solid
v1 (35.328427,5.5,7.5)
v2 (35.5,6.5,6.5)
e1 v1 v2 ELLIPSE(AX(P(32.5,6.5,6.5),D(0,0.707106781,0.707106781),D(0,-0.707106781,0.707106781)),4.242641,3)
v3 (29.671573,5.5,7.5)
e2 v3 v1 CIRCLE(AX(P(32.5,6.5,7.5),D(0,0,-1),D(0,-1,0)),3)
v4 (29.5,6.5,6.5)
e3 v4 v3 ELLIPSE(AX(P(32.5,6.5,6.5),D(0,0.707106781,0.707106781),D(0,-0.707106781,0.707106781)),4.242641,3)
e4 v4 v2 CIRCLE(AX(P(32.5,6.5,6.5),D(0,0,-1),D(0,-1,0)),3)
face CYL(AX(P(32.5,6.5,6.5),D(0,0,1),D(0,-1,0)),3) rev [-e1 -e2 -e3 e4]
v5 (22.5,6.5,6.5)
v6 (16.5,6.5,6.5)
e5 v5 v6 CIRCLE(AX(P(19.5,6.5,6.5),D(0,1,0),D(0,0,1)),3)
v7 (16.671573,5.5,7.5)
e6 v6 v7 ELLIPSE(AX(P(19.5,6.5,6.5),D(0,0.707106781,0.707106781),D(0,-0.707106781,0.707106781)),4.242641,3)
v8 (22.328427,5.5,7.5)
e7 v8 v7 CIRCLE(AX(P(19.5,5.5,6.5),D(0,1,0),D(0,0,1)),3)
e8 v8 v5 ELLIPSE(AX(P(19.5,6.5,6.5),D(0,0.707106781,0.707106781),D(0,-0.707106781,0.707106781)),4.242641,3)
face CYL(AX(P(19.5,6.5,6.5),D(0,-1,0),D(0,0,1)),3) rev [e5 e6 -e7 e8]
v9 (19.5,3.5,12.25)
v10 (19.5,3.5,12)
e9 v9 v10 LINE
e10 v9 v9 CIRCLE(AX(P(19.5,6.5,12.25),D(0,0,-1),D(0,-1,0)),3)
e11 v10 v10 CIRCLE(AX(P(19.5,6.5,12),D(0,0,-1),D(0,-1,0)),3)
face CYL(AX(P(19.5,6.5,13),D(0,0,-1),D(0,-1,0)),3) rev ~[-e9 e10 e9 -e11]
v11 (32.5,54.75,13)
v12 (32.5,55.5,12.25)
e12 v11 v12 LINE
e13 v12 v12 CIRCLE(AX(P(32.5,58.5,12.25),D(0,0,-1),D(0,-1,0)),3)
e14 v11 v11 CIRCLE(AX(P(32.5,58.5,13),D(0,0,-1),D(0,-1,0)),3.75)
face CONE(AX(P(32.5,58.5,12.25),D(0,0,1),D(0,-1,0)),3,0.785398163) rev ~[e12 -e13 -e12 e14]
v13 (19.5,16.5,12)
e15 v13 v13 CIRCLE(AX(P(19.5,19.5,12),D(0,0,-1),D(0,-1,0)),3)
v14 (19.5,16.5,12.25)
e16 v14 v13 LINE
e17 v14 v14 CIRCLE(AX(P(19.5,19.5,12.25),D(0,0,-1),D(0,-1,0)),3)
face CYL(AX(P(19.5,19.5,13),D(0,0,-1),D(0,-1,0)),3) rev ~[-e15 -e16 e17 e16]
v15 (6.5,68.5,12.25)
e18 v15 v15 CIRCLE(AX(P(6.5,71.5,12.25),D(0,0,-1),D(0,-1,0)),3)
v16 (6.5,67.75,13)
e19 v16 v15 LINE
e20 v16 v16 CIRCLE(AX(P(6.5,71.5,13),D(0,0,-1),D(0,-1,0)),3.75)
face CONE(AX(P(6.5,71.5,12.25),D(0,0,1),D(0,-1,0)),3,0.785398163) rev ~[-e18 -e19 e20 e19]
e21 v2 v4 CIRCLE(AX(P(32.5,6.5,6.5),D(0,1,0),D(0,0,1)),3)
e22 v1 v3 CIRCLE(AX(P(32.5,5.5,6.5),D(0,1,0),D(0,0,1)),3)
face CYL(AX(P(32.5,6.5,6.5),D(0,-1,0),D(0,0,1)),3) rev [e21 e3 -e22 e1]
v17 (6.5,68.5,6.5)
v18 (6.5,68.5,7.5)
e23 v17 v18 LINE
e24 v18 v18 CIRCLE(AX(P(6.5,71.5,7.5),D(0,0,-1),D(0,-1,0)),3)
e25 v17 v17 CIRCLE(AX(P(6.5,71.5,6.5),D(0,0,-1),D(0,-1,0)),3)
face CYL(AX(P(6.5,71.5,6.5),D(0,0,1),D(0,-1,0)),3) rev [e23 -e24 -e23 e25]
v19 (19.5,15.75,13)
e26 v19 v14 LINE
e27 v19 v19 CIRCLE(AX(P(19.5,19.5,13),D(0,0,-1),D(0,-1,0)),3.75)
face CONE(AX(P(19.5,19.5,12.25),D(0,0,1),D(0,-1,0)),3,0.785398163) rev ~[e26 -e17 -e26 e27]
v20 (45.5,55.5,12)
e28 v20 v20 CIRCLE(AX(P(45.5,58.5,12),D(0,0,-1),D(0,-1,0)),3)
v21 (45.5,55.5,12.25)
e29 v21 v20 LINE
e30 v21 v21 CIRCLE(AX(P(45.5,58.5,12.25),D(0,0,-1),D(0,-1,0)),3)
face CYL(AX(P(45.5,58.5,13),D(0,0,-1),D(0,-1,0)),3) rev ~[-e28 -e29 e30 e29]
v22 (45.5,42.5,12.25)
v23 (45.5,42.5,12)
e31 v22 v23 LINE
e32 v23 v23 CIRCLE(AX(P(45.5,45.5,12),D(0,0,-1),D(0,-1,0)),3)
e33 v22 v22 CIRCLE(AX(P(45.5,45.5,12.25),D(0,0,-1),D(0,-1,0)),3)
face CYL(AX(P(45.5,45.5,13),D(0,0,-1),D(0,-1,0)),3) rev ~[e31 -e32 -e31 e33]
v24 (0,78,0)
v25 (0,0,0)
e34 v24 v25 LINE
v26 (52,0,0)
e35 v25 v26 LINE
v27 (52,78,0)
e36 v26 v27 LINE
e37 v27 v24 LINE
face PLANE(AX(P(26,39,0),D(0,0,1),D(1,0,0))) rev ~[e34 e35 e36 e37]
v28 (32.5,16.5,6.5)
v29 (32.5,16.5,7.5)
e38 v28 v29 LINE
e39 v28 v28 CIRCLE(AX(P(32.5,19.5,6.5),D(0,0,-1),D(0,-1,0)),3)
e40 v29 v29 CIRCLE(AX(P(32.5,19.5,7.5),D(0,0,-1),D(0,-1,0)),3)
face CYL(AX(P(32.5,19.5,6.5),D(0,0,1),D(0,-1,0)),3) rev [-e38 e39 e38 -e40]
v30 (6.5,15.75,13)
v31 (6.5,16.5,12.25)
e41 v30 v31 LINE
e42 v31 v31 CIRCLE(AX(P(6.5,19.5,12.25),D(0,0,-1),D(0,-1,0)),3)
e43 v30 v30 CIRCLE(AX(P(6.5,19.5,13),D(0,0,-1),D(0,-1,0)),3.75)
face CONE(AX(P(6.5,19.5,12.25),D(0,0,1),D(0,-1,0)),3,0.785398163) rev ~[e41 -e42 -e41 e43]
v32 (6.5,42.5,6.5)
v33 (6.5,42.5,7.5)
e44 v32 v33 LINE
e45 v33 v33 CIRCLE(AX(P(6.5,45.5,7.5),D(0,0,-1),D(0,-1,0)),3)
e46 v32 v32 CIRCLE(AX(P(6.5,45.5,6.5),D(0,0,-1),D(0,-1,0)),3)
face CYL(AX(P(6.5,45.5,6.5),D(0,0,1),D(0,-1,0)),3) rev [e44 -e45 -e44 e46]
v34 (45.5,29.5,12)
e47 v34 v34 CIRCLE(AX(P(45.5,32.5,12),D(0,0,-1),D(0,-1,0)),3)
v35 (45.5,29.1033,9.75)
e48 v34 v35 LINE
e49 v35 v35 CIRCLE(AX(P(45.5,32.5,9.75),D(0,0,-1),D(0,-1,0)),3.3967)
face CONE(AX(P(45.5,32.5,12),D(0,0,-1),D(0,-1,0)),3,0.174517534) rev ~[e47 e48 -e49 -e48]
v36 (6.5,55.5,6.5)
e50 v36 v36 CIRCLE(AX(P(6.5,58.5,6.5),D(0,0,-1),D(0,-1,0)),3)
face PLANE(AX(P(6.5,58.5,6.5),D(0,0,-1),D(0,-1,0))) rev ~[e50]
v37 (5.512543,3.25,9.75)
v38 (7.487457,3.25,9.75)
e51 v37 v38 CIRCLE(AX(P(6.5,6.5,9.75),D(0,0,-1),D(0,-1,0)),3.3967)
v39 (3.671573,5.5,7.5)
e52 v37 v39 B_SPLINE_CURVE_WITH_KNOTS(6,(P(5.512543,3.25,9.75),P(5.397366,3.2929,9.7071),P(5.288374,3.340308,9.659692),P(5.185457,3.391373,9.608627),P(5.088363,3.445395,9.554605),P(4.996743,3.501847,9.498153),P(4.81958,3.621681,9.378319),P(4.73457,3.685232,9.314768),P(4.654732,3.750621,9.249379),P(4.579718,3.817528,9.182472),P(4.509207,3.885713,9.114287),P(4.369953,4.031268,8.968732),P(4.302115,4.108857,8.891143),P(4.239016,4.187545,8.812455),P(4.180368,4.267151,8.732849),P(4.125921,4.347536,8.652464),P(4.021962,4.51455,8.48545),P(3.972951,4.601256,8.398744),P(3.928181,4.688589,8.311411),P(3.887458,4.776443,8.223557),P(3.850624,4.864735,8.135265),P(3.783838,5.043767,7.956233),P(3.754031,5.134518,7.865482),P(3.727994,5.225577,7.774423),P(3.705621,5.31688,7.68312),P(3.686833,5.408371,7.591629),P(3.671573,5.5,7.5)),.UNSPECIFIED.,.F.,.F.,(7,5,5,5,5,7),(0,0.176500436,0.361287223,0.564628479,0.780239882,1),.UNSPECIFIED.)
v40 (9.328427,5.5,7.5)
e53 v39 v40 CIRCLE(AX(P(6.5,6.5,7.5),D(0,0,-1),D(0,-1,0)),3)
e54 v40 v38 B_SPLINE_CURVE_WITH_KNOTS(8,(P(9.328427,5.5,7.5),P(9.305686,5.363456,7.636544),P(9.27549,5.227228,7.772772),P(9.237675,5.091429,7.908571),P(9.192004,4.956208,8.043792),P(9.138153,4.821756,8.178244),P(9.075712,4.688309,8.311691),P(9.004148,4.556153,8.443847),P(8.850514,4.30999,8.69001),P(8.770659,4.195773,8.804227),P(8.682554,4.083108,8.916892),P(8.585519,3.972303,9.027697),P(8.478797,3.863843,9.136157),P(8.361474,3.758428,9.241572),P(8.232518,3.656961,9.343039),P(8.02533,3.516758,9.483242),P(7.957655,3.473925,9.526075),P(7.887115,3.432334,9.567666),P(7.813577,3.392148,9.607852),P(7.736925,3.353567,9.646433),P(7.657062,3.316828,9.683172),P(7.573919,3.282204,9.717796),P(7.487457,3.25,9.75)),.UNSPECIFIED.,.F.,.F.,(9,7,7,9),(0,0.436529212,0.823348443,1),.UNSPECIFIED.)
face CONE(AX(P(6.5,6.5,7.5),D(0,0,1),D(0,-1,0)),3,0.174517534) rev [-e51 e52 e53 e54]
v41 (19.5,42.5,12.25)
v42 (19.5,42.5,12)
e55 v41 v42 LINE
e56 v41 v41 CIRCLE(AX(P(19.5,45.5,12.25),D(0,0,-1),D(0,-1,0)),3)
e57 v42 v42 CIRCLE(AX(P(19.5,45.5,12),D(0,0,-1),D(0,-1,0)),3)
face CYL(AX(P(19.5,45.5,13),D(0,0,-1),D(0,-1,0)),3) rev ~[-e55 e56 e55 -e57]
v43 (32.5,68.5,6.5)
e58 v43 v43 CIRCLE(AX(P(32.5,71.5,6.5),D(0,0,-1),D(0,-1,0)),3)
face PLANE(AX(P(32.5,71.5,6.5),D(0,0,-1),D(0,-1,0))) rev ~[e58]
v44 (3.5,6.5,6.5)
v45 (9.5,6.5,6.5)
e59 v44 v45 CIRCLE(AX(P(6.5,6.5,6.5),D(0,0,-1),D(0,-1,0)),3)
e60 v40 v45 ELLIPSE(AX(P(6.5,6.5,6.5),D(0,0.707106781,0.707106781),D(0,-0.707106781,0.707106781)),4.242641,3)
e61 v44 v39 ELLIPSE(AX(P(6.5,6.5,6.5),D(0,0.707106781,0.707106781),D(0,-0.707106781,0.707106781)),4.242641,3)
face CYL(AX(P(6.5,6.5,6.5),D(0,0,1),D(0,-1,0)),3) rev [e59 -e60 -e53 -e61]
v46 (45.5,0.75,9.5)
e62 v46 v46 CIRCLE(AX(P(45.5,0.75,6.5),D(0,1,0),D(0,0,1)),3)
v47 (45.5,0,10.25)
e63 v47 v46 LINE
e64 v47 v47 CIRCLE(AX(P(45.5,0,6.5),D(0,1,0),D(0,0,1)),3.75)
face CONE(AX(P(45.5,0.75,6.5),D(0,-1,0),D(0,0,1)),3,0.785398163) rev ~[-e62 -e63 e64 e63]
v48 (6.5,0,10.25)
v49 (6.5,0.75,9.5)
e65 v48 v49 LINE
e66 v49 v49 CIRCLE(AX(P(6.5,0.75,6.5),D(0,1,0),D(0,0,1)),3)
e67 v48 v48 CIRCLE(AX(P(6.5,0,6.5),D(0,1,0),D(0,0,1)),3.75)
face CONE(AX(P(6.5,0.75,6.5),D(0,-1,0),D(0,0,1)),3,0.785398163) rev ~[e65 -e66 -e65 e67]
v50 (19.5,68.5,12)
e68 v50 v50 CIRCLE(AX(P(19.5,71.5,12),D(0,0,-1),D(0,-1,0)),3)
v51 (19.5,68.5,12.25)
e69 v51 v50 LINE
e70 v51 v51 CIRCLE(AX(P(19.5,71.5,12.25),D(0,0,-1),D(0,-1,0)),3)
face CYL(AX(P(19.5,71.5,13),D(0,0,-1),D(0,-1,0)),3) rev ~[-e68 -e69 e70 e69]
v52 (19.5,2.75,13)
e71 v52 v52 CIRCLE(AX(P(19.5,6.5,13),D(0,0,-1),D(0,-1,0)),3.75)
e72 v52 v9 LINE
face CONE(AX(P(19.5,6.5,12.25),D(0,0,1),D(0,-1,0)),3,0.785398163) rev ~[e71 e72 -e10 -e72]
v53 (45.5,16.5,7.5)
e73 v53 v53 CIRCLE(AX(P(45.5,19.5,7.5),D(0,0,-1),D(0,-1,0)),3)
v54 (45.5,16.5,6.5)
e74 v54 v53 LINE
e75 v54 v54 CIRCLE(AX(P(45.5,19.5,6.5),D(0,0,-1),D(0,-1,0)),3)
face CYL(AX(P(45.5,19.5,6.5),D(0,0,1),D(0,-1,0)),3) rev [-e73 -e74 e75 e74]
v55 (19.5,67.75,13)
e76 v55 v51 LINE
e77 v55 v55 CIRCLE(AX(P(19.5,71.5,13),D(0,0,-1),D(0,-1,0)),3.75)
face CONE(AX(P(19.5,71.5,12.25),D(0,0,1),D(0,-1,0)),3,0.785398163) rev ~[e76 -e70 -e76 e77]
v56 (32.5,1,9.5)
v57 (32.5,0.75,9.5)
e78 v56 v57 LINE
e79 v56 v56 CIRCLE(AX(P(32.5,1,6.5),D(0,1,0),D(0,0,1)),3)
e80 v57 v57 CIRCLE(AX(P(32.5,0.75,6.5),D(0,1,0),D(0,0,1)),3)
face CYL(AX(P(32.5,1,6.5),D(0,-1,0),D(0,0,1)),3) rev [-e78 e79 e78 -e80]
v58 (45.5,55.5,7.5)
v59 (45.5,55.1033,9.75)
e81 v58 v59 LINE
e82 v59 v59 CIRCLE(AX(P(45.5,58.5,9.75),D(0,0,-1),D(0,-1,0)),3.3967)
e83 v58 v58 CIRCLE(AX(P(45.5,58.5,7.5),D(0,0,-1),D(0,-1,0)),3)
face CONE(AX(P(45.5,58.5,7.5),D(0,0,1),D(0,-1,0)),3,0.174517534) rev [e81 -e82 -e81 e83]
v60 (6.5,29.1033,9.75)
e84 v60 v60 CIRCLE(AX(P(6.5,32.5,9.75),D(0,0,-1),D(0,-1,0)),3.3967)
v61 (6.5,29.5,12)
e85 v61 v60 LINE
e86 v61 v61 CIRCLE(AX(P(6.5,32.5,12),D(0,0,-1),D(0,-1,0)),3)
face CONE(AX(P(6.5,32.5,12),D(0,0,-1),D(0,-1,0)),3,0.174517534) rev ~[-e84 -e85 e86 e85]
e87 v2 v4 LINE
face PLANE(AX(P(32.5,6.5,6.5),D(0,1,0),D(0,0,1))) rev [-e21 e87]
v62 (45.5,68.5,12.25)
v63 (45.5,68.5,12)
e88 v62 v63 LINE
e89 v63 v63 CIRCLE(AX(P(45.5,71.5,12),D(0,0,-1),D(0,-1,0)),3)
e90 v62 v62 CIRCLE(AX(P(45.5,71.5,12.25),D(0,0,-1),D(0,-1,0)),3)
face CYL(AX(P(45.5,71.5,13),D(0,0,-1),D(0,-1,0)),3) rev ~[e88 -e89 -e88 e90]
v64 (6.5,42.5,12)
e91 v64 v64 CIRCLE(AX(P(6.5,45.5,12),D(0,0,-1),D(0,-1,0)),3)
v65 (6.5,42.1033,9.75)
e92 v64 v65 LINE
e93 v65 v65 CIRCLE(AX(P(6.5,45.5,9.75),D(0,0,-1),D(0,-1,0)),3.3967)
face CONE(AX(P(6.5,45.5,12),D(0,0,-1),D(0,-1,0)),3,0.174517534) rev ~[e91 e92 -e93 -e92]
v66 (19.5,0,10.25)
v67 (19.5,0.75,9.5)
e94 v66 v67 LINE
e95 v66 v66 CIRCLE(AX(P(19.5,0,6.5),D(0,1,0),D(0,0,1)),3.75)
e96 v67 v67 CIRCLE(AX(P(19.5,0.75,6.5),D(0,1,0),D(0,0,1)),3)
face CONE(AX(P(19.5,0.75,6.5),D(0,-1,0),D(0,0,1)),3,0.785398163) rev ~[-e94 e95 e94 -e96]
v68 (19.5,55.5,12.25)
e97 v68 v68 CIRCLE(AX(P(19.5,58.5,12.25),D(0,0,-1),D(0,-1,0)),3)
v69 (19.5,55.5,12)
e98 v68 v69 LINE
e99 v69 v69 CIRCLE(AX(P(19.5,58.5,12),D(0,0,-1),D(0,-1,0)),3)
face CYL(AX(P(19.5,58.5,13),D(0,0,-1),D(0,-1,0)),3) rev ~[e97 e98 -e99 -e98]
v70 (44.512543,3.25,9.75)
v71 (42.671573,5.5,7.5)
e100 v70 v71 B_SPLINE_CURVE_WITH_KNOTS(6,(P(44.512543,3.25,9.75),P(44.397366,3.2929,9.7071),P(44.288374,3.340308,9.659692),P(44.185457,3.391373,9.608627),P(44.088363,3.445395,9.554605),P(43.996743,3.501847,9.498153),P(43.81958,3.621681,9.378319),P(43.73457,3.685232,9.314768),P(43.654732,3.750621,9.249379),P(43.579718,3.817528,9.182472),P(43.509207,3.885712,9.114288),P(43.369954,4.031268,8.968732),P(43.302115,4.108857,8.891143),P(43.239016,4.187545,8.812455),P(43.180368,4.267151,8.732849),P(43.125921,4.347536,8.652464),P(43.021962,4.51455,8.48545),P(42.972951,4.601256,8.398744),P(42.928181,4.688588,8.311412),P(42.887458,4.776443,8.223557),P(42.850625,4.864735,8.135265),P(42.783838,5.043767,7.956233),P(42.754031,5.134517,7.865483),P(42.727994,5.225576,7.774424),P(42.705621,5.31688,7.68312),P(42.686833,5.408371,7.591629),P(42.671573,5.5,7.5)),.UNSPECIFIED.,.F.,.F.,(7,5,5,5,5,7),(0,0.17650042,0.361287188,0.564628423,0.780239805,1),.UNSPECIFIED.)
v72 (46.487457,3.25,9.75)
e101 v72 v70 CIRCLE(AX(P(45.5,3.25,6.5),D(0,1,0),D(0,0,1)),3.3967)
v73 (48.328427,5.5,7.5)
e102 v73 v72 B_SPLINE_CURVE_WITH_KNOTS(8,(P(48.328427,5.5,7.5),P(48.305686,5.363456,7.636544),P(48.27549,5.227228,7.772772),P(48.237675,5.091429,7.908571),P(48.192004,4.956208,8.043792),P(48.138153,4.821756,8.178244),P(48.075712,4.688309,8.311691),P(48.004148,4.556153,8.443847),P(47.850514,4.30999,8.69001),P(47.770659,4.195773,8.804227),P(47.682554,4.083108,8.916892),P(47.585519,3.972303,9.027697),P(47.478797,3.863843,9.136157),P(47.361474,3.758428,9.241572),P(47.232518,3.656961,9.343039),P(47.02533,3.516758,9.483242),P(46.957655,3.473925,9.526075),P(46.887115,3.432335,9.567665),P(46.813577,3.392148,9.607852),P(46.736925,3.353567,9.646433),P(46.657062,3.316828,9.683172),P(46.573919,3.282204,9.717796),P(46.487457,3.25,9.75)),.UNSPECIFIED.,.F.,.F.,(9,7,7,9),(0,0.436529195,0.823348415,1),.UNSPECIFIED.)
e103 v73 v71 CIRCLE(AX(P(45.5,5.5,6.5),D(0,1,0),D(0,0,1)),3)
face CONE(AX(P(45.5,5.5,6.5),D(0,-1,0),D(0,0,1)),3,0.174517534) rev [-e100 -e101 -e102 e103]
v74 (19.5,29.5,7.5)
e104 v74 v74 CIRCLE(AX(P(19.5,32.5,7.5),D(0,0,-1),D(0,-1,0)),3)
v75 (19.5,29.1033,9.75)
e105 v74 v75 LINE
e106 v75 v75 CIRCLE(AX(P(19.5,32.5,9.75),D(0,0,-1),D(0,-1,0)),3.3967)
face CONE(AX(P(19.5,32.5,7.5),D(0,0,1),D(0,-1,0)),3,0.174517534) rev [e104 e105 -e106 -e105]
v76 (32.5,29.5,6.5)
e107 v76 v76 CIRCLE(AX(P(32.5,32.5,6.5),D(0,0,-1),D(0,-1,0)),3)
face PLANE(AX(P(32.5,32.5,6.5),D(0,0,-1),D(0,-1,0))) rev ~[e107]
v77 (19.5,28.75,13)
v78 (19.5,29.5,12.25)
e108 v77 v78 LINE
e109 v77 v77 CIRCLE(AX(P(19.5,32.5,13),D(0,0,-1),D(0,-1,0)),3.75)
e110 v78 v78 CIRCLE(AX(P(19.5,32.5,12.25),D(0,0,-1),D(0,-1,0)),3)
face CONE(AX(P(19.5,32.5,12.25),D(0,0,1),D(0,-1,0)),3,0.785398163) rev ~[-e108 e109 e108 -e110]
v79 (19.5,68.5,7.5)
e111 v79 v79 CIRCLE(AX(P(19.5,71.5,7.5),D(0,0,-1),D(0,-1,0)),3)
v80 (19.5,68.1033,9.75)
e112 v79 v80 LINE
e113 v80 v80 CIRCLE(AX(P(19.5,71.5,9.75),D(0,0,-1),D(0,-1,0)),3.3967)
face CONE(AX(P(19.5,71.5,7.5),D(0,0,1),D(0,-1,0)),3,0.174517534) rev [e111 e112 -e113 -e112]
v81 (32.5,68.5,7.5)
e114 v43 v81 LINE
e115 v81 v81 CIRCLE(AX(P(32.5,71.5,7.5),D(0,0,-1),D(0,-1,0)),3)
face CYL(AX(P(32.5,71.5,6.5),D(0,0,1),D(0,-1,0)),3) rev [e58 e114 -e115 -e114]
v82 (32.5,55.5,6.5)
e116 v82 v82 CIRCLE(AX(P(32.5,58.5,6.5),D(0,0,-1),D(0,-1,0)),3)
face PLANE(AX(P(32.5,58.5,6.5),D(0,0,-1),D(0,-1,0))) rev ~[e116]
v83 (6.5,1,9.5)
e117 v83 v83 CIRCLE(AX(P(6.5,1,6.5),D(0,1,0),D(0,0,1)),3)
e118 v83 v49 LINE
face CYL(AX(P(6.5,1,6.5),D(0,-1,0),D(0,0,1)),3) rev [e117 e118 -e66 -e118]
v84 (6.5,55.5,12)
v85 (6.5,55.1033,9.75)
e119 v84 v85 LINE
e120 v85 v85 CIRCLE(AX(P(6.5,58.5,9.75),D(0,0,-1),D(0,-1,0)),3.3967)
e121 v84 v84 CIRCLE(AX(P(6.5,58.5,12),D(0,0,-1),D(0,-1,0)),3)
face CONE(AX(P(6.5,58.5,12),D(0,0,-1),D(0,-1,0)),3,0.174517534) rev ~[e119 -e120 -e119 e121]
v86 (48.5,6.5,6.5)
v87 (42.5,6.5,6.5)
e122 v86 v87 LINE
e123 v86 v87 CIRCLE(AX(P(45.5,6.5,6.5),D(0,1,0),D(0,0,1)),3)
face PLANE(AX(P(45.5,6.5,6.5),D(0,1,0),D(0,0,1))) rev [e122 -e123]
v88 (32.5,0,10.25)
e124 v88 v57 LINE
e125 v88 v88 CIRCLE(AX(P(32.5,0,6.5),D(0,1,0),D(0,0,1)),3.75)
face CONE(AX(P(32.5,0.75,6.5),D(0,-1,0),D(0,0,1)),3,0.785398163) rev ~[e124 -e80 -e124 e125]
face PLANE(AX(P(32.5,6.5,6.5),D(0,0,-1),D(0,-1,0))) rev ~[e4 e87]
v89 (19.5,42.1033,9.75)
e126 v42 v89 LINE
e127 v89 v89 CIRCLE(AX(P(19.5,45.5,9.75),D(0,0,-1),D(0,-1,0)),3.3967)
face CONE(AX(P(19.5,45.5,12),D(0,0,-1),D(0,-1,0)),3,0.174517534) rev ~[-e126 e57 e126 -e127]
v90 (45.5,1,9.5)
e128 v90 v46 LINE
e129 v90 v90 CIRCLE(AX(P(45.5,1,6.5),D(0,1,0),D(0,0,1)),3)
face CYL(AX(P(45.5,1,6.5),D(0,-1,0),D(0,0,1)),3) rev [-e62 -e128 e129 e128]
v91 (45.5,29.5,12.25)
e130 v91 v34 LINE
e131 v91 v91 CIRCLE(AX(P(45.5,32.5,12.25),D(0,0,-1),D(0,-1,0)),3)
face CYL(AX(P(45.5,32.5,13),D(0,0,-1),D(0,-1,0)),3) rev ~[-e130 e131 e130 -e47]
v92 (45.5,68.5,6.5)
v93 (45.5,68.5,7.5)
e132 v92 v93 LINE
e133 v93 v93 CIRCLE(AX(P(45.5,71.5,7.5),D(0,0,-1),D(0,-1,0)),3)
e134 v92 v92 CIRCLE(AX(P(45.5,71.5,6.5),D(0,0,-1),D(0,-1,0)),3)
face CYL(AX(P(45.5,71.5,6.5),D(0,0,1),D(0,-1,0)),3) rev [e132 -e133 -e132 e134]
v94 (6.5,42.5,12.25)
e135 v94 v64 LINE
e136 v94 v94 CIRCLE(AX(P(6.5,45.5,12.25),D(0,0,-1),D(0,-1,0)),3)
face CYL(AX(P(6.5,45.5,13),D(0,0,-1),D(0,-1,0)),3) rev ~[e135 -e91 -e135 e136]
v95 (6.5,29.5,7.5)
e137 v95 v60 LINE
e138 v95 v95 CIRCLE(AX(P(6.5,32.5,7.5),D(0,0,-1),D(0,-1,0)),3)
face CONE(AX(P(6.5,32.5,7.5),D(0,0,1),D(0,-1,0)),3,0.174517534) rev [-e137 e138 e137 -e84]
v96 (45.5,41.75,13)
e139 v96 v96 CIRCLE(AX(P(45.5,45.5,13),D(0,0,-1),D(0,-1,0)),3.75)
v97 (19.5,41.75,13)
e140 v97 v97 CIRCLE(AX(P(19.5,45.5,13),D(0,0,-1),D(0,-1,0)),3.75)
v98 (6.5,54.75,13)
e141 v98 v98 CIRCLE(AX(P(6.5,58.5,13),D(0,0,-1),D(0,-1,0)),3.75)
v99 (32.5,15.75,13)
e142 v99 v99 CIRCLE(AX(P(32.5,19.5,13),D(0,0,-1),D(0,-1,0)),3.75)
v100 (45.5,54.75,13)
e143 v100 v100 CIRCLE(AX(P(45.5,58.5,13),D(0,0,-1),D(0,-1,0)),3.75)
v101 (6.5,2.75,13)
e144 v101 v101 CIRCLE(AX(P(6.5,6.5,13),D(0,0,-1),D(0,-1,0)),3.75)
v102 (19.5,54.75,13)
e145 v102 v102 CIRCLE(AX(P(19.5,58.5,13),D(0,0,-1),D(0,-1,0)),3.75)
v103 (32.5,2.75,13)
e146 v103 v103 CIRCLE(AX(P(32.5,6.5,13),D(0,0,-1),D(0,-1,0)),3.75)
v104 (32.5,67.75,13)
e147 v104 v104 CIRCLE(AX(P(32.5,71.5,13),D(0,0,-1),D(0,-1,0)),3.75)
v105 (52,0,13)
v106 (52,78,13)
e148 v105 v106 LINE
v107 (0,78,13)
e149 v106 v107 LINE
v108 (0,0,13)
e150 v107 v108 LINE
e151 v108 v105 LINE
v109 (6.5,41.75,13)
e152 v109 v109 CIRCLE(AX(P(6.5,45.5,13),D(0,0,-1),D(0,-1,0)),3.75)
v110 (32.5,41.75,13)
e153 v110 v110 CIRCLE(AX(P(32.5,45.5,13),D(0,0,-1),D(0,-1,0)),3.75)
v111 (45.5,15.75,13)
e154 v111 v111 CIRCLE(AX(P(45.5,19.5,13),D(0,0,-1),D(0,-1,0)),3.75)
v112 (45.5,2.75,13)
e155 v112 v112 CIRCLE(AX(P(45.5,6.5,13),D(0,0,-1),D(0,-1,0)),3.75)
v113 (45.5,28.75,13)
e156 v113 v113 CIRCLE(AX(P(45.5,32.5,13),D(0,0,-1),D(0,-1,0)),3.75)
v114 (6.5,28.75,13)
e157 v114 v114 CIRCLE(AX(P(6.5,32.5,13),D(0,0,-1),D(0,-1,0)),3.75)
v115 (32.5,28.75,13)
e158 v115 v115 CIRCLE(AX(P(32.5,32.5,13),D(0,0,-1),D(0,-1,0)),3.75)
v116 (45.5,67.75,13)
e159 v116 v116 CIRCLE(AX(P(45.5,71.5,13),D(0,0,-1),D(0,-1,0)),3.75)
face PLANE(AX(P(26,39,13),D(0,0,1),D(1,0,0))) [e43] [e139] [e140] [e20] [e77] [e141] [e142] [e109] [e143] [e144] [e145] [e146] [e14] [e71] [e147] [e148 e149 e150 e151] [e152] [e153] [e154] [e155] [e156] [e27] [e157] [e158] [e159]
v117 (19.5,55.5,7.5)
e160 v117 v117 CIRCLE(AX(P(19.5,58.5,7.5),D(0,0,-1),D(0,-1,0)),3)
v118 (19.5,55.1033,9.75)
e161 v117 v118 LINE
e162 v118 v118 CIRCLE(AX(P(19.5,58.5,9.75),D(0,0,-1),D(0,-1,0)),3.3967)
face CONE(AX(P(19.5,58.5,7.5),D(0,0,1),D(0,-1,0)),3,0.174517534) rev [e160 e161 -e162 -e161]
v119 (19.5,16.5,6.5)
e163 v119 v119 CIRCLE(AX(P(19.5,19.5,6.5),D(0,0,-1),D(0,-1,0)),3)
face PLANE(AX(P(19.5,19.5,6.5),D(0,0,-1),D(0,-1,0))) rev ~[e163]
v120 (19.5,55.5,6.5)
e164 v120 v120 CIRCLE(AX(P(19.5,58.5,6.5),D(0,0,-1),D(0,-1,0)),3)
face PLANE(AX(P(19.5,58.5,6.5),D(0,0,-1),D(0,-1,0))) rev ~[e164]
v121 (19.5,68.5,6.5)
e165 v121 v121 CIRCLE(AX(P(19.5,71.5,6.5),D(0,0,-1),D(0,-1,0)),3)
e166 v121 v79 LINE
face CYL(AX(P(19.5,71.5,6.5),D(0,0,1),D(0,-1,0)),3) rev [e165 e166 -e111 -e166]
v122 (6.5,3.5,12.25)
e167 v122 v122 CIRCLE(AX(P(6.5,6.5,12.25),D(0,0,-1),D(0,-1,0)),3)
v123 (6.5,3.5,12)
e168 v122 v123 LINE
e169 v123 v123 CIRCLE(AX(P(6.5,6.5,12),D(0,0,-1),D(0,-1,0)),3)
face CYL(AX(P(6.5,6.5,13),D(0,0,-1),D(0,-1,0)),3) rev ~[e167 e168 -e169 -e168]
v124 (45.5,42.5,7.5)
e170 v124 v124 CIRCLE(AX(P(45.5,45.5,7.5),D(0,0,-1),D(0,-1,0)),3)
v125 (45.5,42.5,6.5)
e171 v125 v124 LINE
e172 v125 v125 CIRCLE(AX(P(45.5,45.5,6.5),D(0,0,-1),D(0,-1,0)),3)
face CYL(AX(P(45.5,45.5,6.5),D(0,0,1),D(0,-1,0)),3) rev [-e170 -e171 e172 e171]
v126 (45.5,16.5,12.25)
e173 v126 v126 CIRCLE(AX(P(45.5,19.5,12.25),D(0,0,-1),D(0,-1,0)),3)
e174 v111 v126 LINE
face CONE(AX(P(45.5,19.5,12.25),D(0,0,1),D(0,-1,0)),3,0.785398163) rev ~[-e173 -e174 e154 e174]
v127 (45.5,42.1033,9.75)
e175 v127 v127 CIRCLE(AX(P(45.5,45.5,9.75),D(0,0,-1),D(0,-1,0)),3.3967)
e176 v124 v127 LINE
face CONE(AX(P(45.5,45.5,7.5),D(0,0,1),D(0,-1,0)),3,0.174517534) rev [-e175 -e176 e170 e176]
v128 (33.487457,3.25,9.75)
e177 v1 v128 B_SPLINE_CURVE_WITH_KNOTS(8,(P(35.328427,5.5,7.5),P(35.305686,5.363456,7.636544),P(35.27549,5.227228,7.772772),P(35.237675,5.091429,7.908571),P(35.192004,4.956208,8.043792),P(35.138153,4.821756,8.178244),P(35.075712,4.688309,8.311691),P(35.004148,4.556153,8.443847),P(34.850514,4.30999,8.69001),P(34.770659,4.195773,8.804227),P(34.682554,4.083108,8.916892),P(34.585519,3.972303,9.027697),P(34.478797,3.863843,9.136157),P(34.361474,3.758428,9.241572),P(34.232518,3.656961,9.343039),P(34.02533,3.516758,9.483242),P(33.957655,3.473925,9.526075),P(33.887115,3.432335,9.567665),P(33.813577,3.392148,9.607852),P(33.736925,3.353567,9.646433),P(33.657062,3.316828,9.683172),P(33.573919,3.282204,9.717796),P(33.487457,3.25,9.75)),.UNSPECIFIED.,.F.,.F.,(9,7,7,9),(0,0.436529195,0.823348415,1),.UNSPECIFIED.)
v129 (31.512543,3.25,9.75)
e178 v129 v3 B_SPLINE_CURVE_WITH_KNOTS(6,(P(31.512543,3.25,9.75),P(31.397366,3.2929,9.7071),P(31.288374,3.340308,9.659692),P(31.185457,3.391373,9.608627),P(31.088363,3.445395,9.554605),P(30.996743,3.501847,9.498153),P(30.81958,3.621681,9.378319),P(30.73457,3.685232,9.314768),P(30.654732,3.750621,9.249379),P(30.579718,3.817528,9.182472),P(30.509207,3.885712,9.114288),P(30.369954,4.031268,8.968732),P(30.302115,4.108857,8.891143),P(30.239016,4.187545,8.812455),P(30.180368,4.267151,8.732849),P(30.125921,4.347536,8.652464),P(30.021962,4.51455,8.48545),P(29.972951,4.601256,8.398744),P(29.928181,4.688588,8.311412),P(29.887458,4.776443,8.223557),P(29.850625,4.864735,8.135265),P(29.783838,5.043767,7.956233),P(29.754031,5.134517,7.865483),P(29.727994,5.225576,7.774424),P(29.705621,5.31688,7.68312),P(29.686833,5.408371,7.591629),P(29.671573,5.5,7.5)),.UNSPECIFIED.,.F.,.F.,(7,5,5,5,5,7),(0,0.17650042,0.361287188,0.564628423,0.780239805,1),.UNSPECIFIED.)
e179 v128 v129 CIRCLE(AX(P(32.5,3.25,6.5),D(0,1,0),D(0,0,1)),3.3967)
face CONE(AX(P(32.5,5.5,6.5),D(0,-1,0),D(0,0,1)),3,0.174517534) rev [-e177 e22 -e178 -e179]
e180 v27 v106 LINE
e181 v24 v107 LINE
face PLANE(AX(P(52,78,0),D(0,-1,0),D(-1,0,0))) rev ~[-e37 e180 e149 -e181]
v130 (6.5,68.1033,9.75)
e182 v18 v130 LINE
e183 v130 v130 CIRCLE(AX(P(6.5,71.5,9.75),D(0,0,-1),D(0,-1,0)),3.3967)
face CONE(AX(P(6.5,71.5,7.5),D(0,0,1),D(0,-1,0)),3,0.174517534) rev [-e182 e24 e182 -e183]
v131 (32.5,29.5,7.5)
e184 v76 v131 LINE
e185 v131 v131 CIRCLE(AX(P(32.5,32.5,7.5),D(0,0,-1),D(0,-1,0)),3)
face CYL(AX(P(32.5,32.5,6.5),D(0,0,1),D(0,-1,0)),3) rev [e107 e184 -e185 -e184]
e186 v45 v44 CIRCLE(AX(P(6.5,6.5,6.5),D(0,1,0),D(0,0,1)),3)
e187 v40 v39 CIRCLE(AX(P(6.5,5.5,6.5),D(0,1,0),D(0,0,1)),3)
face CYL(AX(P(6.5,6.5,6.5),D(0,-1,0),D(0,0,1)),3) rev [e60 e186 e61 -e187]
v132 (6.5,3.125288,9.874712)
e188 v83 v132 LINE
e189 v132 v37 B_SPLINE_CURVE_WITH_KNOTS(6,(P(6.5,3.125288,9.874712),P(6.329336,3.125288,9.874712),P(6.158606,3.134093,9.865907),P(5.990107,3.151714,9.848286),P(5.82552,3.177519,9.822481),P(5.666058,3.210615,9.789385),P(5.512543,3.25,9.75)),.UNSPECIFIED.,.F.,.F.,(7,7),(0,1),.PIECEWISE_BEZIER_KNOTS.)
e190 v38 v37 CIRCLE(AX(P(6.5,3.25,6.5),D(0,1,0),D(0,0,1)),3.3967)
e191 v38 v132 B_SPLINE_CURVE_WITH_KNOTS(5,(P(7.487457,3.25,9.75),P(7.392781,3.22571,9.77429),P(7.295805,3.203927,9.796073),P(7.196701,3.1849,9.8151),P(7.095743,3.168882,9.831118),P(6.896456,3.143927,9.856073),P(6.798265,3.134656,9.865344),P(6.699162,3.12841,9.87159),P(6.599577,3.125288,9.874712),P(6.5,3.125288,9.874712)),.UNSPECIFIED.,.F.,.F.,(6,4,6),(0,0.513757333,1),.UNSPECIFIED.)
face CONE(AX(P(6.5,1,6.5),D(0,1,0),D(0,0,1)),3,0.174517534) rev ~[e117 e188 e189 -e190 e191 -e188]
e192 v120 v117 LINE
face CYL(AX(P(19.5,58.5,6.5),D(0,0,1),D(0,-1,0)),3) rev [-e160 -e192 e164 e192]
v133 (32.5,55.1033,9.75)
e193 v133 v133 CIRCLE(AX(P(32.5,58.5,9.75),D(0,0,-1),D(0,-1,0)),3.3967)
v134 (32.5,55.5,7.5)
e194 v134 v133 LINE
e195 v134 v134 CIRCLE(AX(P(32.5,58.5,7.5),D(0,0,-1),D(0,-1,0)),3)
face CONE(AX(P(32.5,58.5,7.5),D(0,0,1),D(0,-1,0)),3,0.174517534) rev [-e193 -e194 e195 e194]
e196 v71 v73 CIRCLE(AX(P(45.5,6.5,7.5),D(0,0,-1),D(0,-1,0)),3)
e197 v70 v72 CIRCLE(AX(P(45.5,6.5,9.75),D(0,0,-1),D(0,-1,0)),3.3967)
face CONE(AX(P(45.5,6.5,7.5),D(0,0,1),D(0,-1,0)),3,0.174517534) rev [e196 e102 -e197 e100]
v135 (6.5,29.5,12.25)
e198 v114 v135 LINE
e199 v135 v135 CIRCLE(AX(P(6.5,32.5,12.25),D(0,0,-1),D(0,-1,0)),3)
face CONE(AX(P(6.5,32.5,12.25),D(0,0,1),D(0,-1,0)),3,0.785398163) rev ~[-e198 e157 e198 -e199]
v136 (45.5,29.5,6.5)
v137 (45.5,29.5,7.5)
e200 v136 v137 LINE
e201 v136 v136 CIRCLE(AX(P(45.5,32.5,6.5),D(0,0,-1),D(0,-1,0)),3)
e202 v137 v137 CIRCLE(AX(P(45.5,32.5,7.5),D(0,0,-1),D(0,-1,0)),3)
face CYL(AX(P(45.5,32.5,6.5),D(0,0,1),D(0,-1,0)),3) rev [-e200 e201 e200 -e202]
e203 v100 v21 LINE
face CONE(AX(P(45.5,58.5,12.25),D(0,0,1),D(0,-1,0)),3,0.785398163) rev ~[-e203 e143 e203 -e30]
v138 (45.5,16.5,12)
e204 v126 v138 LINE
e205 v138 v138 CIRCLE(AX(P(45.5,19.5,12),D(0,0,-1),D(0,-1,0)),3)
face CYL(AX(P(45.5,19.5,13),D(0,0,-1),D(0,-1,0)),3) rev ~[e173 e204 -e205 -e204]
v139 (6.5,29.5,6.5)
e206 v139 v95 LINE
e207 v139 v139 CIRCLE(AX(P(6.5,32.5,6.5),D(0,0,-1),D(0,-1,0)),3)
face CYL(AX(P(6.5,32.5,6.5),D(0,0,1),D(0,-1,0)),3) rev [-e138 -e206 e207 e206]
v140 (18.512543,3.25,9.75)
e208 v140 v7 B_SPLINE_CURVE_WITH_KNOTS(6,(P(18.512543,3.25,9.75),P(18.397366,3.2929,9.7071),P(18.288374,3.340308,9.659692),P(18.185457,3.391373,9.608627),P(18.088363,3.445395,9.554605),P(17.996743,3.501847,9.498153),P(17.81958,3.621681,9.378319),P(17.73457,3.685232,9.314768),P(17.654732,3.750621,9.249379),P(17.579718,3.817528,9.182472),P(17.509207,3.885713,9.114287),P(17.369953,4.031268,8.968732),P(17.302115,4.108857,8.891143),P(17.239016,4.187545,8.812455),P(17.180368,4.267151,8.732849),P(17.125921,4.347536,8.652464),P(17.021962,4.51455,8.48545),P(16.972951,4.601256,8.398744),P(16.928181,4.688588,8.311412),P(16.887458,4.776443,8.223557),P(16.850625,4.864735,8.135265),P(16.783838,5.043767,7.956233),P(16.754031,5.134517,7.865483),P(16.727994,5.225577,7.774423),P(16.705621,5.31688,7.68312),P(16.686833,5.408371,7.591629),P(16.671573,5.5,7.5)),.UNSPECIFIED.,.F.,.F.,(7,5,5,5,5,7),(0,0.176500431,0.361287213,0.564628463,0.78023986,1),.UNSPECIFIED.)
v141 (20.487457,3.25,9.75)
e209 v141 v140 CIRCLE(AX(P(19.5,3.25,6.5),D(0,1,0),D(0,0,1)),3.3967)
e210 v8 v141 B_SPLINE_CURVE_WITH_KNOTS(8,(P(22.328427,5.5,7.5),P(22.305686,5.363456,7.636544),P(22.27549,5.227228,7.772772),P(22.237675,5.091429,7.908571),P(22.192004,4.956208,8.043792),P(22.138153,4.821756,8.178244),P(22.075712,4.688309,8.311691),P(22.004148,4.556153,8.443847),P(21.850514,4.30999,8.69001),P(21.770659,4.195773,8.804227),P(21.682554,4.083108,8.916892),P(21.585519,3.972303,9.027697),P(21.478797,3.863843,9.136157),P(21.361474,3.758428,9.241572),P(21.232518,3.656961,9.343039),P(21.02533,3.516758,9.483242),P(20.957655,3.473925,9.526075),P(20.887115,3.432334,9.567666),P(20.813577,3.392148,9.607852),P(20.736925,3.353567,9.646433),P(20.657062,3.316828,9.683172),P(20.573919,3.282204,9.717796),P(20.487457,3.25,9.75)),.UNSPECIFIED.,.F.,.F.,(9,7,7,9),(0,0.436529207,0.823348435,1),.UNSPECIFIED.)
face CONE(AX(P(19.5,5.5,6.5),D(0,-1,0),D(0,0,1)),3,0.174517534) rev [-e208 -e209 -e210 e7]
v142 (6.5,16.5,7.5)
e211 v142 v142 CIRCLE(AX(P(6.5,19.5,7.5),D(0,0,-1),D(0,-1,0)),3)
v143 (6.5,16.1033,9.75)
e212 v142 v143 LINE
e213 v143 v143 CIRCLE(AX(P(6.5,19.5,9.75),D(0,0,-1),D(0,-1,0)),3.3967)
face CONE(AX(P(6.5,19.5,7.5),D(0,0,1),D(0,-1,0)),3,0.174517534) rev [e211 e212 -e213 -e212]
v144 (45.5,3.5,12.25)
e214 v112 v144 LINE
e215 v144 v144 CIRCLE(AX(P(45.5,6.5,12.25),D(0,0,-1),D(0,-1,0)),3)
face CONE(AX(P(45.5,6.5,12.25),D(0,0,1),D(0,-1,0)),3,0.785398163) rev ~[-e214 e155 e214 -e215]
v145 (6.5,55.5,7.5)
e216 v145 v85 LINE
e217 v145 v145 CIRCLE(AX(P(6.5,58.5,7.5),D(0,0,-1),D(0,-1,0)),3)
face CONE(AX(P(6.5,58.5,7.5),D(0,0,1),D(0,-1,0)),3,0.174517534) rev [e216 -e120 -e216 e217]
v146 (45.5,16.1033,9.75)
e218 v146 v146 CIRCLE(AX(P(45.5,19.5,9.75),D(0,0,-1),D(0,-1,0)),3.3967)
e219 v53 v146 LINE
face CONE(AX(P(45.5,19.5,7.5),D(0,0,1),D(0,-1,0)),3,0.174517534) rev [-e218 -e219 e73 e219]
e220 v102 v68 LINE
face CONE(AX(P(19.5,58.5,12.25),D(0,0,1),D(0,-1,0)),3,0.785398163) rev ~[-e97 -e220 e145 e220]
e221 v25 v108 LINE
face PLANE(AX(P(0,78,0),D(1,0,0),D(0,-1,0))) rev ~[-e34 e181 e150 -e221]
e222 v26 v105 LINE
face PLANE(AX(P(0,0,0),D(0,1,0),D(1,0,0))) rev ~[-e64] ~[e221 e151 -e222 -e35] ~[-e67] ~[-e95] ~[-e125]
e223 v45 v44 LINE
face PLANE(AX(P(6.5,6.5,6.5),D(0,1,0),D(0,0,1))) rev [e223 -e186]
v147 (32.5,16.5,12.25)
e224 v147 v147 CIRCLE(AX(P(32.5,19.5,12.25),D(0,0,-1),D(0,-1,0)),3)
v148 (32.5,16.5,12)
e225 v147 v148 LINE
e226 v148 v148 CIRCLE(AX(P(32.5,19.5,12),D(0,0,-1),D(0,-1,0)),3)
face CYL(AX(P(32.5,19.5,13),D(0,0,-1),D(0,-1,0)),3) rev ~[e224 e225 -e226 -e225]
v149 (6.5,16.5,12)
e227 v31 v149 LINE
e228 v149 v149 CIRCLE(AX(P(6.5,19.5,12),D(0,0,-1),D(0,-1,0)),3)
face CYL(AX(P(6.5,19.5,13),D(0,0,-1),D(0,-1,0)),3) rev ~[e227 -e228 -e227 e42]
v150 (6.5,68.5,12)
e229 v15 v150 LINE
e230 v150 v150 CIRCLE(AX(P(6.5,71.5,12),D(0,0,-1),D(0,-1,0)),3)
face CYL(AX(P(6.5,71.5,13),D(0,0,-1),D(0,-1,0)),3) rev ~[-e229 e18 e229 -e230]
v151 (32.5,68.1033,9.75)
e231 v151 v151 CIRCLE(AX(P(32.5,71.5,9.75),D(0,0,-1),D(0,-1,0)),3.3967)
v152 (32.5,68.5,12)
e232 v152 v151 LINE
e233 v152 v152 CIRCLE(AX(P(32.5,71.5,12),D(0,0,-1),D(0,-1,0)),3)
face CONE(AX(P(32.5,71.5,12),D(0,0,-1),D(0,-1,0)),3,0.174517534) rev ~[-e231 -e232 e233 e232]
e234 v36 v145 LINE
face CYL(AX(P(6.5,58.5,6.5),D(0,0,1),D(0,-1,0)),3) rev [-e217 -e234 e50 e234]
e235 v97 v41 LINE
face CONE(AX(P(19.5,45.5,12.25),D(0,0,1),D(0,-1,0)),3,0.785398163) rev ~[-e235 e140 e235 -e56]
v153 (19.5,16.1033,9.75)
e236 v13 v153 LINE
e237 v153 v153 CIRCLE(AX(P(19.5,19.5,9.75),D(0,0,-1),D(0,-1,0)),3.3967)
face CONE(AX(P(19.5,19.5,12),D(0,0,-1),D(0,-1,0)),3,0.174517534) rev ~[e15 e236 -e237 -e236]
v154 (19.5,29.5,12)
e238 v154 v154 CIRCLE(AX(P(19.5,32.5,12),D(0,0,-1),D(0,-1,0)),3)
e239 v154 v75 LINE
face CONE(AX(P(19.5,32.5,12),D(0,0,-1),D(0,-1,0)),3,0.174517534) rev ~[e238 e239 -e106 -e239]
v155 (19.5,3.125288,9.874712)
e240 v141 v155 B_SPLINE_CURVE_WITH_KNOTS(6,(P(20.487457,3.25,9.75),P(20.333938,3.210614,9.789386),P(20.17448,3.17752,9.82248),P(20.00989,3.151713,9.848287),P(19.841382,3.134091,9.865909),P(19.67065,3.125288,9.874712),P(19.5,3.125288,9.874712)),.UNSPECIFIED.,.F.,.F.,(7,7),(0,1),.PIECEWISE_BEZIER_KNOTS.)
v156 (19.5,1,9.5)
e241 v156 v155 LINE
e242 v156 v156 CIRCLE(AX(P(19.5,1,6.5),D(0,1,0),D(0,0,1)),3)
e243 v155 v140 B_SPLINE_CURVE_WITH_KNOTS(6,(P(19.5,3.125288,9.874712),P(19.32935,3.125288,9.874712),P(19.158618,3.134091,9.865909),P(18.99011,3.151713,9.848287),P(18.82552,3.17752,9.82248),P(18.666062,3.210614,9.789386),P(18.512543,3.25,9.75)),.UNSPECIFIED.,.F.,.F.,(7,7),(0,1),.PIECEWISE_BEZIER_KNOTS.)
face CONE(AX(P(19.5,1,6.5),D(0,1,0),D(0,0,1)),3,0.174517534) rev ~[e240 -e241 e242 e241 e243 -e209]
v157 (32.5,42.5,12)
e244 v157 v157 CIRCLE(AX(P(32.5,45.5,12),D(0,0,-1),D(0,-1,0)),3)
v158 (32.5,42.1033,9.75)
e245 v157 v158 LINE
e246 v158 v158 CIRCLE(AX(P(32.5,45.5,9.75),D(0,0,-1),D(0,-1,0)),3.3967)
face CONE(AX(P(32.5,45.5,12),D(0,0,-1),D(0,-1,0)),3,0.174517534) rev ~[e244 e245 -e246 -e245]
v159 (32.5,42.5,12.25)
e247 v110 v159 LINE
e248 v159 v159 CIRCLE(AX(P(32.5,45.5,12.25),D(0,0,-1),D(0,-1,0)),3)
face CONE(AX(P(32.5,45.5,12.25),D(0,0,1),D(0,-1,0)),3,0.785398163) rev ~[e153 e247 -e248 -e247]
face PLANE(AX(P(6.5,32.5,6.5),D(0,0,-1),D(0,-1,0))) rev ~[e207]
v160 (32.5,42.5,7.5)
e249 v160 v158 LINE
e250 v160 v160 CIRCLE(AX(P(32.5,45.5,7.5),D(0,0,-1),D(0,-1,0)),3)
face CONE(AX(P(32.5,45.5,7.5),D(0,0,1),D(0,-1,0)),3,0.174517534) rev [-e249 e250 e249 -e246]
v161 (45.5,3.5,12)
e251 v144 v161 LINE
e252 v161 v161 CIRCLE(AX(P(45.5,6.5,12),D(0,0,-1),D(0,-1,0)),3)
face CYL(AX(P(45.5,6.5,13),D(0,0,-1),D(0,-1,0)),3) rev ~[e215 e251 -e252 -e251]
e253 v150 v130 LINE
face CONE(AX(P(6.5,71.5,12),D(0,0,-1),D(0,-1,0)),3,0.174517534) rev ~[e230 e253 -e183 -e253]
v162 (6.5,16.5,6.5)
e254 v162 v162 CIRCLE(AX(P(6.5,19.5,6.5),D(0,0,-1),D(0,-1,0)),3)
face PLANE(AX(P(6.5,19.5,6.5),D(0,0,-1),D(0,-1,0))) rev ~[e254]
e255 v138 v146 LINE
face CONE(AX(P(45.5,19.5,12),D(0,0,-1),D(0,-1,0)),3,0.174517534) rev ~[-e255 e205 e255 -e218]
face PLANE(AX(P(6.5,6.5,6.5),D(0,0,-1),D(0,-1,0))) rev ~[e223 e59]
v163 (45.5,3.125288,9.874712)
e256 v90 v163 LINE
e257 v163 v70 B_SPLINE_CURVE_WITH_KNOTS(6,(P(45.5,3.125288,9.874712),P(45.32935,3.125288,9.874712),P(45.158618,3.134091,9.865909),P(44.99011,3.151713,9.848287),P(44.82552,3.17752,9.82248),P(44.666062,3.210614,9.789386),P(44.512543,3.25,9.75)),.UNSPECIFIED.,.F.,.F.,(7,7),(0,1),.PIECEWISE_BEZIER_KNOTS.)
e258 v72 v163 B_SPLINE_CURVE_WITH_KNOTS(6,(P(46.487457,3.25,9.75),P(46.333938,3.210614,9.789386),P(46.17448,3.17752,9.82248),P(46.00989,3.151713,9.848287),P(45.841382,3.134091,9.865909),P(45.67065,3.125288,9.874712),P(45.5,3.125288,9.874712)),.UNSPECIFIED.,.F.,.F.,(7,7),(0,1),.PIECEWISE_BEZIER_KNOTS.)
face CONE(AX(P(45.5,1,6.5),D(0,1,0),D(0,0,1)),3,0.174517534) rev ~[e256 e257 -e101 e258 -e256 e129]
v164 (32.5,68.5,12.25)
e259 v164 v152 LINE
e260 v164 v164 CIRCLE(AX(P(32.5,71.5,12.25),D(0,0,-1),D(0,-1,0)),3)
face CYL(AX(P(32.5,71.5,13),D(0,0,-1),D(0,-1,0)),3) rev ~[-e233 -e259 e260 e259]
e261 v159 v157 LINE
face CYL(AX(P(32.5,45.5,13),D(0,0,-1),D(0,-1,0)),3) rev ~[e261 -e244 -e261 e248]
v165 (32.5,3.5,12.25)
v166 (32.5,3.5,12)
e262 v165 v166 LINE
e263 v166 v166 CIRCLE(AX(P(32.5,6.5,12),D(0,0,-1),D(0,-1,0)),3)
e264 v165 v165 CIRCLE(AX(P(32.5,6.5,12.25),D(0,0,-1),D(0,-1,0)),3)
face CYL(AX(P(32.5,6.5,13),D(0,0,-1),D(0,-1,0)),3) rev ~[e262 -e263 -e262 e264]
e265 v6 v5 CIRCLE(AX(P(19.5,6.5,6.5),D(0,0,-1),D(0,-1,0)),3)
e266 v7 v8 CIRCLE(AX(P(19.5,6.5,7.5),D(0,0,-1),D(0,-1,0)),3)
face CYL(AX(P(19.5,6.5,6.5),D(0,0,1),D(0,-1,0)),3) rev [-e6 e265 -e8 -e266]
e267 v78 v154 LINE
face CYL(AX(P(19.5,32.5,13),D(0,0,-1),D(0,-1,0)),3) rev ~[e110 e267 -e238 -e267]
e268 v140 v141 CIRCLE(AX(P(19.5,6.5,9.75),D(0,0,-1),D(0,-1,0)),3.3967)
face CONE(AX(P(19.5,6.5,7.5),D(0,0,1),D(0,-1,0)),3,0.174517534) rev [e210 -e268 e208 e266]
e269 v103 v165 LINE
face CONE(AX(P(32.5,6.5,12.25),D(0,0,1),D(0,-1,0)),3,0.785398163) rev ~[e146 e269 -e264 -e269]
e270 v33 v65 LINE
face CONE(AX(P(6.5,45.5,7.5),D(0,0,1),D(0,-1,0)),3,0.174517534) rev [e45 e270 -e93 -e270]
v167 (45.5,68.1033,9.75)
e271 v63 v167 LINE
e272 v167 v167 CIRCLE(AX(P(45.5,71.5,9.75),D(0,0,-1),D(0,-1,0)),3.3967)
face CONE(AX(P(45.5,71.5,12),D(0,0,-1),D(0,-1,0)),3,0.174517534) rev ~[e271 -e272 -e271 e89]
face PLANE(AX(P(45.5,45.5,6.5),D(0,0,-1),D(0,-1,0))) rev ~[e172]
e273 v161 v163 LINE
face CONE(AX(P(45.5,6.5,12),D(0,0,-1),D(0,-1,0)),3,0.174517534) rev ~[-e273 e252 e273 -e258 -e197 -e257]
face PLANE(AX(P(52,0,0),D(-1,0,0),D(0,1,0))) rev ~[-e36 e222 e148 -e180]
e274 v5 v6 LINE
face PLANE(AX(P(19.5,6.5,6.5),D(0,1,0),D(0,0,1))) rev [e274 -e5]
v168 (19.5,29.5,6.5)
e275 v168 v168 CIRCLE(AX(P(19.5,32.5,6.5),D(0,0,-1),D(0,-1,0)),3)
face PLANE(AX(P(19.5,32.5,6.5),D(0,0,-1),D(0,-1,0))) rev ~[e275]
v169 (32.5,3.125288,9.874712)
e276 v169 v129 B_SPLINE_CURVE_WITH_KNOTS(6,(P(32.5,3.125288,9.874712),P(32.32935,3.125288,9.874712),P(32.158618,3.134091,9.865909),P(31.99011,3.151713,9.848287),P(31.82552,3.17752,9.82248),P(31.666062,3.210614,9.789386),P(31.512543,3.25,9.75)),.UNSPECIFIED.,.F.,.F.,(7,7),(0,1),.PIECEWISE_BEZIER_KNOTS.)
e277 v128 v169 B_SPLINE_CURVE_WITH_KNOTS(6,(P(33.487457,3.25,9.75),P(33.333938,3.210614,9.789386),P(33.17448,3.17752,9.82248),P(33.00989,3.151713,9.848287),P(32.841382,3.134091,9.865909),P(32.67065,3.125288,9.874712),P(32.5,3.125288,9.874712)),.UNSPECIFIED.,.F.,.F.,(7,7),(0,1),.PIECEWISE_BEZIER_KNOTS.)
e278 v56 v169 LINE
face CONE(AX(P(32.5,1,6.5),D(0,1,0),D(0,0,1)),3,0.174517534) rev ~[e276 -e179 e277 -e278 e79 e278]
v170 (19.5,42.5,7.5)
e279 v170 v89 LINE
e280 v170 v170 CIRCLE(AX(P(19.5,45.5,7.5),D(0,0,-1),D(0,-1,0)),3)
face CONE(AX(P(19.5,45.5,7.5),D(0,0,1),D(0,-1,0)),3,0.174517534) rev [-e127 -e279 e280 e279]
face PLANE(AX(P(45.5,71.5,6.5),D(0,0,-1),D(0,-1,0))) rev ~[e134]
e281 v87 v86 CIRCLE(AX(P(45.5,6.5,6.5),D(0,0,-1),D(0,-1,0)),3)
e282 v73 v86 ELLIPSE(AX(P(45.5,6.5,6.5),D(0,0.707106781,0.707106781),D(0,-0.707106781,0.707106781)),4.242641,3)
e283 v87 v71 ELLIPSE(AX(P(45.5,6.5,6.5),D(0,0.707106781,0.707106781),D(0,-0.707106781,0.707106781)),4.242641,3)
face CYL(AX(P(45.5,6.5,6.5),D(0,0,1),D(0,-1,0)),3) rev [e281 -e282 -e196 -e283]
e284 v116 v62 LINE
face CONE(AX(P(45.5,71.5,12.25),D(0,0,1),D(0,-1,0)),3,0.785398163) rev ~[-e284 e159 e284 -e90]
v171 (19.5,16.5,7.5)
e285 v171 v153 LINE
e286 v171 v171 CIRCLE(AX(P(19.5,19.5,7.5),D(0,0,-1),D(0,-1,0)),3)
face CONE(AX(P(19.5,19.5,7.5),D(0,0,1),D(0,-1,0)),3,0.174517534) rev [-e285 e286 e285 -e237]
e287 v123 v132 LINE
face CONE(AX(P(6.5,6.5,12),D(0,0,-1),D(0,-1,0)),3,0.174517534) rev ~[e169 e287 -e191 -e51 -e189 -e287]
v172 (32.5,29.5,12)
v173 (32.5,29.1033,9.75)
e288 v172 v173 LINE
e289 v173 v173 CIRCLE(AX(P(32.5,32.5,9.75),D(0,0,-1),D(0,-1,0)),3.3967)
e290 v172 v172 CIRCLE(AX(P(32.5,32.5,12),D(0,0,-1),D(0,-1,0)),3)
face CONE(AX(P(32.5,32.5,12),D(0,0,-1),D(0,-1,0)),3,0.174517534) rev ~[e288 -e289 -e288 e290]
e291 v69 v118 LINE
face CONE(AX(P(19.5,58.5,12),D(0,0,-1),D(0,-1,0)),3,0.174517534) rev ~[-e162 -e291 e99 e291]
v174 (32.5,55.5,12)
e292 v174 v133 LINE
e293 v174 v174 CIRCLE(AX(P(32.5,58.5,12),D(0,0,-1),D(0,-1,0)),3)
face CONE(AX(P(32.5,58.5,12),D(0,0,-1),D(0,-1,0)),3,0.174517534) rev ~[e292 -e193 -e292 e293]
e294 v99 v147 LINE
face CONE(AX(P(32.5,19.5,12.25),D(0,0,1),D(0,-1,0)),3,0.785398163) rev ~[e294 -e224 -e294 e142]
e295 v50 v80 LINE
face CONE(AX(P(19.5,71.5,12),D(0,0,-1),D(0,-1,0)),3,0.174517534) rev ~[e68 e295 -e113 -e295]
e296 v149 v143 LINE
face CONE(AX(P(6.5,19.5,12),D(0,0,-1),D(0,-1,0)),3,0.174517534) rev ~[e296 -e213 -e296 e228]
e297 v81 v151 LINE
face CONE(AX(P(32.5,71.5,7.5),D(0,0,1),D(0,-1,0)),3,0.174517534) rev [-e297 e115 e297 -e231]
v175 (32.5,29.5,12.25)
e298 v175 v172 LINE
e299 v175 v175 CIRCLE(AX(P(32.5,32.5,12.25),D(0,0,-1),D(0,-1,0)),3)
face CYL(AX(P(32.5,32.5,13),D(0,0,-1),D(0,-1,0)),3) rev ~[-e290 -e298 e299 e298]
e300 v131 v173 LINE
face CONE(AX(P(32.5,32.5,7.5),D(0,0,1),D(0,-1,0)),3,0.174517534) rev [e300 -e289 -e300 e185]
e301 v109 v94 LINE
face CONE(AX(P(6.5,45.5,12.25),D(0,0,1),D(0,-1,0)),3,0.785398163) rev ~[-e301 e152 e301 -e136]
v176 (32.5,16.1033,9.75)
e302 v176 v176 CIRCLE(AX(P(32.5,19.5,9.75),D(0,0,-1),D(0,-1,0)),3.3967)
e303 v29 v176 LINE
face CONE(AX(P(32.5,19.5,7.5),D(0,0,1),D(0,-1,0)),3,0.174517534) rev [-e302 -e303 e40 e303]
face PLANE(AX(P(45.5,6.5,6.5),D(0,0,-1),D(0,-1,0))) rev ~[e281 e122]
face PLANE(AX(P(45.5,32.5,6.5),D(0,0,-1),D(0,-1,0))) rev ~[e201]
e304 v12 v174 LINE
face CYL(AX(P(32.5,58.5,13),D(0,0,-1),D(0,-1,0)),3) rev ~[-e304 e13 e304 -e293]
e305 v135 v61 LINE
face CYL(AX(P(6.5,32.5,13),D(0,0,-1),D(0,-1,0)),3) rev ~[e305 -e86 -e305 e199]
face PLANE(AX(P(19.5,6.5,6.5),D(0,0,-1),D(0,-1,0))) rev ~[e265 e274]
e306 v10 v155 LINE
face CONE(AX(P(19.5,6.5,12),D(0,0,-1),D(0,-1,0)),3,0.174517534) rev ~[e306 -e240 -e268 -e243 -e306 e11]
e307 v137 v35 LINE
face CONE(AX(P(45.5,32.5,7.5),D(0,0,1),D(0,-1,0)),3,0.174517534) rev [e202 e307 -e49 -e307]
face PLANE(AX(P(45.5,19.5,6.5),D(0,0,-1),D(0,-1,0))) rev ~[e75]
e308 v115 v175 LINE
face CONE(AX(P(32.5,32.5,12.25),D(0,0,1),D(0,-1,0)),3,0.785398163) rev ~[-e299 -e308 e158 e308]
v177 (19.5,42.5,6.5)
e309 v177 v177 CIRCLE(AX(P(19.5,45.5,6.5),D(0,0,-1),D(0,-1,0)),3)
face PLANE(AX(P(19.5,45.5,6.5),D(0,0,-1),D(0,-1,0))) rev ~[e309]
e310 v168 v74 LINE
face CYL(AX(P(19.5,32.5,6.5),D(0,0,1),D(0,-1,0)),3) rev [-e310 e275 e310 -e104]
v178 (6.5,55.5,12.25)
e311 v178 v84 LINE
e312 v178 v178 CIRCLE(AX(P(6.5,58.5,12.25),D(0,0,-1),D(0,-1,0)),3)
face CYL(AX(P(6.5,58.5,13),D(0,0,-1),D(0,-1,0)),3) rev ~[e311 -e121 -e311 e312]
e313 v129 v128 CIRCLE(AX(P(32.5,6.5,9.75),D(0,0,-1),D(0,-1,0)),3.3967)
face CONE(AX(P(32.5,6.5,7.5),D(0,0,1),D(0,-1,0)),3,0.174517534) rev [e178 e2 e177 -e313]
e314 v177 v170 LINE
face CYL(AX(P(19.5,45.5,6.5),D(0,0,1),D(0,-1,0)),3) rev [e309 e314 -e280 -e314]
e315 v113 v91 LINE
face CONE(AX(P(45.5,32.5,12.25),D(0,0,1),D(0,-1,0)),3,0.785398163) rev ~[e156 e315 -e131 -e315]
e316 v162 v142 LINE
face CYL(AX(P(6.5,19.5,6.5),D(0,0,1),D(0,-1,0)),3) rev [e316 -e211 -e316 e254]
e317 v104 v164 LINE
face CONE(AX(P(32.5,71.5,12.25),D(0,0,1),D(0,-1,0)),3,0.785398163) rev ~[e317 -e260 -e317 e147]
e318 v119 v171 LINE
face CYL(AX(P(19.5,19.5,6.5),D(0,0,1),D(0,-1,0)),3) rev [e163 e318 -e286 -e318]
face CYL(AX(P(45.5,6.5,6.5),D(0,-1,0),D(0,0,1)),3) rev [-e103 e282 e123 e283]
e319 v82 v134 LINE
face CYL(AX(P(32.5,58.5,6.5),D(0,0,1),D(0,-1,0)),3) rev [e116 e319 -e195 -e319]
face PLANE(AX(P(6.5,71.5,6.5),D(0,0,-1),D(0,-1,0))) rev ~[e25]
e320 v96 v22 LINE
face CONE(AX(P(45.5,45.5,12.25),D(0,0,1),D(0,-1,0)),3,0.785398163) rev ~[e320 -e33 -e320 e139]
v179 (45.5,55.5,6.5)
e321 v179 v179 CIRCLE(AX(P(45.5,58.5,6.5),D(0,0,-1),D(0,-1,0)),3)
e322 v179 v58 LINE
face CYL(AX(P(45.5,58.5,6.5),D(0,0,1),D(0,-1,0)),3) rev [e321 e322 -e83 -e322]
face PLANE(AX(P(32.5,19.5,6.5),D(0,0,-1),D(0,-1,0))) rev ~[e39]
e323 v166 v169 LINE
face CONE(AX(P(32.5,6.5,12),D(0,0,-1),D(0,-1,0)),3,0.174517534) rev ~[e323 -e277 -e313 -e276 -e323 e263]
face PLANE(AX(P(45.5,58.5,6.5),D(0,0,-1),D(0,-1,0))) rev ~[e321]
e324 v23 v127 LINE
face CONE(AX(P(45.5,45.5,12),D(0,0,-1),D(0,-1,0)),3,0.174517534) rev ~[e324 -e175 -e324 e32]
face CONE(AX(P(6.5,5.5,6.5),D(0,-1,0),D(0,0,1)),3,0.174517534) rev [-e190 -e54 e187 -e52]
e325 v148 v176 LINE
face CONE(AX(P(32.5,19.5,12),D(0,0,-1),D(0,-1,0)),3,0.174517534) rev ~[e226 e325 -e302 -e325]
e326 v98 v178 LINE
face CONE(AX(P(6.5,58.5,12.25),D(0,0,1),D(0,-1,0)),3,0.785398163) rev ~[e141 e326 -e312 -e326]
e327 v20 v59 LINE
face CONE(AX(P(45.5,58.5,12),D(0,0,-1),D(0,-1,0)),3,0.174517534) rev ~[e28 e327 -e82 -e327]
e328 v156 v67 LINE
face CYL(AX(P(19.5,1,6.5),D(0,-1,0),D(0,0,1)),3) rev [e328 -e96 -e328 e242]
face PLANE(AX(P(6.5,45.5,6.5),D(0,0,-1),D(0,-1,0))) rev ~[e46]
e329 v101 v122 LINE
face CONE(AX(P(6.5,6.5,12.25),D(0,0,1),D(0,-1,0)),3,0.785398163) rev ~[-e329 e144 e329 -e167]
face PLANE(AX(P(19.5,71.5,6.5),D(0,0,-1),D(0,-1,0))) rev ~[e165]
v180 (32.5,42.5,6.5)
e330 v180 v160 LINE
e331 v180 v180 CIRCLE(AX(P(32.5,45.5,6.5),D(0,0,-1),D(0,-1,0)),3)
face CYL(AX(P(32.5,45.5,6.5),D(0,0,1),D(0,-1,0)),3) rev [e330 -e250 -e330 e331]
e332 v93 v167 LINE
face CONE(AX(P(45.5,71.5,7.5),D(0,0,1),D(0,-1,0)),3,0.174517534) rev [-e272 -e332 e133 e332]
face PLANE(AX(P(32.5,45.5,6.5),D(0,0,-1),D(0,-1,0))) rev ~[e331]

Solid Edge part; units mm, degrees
sketch "Sketch1" plane through (0, 0, 0) normal (0, 0, 1) x (1, 0, 0)
  line L0 (52, 0) -> (52, 78)
  line L1 (52, 78) -> (0, 78)
  line L2 (0, 78) -> (0, 0)
  line L3 (0, 0) -> (52, 0)
extrude "Protrusion1" add sketch "Sketch1" along normal blind 13
sketch "Sketch2" plane through (6.5, 32.5, 6.5) normal (-1, 0, 0) x (0, -1, 0)
  line L0 (29, 6.5) -> (26, 6.5)
  line L1 (26, 6.5) -> (26, 0)
  line L2 (29, 0) -> (26, 0)
  line L3 (29, 0) -> (29, 1)
  line L4 (29, 1) -> (29.3967, 3.25)
  line L5 (29, 5.5) -> (29.3967, 3.25)
  line L6 (29, 6.5) -> (29, 5.5)
revolve "RevolvedCutout1" cut sketch "Sketch2" angle 360 about axis through (6.5, 6.5, 13) along (0, 0, -1)
chamfer "Chaflán_1" distance 0.75 angle 45 1 edges at (3.5, 6.5, 13)
pattern_linear "Pattern1" count 6 spacing 13 along (0, 1, 0) count 4 spacing 13 along (1, 0, 0) of "RevolvedCutout1", "Chaflán_1"
sketch "Sketch3" plane through (6.5, 32.5, 6.5) normal (-1, 0, 0) x (0, -1, 0)
  line L0 (31.5, 3) -> (32.5, 3)
  line L1 (32.5, 3) -> (32.5, 0)
  line L2 (32.5, 0) -> (31.5, 0)
  line L3 (31.5, 0) -> (26, 0)
  line L4 (26, 0) -> (26, 3)
  line L5 (26, 3) -> (27, 3)
  line L6 (27, 3) -> (29.25, 3.3967)
  line L7 (31.5, 3) -> (29.25, 3.3967)
revolve "RevolvedCutout2" cut sketch "Sketch3" angle 360 about axis through (6.5, 1, 6.5) along (0, 1, 0)
chamfer "Chaflán_2" distance 0.75 angle 45 1 edges at (6.5, 0, 3.5)
pattern_linear "Pattern3" count 4 spacing 13 along (1, 0, 0) of "RevolvedCutout2", "Chaflán_2"
